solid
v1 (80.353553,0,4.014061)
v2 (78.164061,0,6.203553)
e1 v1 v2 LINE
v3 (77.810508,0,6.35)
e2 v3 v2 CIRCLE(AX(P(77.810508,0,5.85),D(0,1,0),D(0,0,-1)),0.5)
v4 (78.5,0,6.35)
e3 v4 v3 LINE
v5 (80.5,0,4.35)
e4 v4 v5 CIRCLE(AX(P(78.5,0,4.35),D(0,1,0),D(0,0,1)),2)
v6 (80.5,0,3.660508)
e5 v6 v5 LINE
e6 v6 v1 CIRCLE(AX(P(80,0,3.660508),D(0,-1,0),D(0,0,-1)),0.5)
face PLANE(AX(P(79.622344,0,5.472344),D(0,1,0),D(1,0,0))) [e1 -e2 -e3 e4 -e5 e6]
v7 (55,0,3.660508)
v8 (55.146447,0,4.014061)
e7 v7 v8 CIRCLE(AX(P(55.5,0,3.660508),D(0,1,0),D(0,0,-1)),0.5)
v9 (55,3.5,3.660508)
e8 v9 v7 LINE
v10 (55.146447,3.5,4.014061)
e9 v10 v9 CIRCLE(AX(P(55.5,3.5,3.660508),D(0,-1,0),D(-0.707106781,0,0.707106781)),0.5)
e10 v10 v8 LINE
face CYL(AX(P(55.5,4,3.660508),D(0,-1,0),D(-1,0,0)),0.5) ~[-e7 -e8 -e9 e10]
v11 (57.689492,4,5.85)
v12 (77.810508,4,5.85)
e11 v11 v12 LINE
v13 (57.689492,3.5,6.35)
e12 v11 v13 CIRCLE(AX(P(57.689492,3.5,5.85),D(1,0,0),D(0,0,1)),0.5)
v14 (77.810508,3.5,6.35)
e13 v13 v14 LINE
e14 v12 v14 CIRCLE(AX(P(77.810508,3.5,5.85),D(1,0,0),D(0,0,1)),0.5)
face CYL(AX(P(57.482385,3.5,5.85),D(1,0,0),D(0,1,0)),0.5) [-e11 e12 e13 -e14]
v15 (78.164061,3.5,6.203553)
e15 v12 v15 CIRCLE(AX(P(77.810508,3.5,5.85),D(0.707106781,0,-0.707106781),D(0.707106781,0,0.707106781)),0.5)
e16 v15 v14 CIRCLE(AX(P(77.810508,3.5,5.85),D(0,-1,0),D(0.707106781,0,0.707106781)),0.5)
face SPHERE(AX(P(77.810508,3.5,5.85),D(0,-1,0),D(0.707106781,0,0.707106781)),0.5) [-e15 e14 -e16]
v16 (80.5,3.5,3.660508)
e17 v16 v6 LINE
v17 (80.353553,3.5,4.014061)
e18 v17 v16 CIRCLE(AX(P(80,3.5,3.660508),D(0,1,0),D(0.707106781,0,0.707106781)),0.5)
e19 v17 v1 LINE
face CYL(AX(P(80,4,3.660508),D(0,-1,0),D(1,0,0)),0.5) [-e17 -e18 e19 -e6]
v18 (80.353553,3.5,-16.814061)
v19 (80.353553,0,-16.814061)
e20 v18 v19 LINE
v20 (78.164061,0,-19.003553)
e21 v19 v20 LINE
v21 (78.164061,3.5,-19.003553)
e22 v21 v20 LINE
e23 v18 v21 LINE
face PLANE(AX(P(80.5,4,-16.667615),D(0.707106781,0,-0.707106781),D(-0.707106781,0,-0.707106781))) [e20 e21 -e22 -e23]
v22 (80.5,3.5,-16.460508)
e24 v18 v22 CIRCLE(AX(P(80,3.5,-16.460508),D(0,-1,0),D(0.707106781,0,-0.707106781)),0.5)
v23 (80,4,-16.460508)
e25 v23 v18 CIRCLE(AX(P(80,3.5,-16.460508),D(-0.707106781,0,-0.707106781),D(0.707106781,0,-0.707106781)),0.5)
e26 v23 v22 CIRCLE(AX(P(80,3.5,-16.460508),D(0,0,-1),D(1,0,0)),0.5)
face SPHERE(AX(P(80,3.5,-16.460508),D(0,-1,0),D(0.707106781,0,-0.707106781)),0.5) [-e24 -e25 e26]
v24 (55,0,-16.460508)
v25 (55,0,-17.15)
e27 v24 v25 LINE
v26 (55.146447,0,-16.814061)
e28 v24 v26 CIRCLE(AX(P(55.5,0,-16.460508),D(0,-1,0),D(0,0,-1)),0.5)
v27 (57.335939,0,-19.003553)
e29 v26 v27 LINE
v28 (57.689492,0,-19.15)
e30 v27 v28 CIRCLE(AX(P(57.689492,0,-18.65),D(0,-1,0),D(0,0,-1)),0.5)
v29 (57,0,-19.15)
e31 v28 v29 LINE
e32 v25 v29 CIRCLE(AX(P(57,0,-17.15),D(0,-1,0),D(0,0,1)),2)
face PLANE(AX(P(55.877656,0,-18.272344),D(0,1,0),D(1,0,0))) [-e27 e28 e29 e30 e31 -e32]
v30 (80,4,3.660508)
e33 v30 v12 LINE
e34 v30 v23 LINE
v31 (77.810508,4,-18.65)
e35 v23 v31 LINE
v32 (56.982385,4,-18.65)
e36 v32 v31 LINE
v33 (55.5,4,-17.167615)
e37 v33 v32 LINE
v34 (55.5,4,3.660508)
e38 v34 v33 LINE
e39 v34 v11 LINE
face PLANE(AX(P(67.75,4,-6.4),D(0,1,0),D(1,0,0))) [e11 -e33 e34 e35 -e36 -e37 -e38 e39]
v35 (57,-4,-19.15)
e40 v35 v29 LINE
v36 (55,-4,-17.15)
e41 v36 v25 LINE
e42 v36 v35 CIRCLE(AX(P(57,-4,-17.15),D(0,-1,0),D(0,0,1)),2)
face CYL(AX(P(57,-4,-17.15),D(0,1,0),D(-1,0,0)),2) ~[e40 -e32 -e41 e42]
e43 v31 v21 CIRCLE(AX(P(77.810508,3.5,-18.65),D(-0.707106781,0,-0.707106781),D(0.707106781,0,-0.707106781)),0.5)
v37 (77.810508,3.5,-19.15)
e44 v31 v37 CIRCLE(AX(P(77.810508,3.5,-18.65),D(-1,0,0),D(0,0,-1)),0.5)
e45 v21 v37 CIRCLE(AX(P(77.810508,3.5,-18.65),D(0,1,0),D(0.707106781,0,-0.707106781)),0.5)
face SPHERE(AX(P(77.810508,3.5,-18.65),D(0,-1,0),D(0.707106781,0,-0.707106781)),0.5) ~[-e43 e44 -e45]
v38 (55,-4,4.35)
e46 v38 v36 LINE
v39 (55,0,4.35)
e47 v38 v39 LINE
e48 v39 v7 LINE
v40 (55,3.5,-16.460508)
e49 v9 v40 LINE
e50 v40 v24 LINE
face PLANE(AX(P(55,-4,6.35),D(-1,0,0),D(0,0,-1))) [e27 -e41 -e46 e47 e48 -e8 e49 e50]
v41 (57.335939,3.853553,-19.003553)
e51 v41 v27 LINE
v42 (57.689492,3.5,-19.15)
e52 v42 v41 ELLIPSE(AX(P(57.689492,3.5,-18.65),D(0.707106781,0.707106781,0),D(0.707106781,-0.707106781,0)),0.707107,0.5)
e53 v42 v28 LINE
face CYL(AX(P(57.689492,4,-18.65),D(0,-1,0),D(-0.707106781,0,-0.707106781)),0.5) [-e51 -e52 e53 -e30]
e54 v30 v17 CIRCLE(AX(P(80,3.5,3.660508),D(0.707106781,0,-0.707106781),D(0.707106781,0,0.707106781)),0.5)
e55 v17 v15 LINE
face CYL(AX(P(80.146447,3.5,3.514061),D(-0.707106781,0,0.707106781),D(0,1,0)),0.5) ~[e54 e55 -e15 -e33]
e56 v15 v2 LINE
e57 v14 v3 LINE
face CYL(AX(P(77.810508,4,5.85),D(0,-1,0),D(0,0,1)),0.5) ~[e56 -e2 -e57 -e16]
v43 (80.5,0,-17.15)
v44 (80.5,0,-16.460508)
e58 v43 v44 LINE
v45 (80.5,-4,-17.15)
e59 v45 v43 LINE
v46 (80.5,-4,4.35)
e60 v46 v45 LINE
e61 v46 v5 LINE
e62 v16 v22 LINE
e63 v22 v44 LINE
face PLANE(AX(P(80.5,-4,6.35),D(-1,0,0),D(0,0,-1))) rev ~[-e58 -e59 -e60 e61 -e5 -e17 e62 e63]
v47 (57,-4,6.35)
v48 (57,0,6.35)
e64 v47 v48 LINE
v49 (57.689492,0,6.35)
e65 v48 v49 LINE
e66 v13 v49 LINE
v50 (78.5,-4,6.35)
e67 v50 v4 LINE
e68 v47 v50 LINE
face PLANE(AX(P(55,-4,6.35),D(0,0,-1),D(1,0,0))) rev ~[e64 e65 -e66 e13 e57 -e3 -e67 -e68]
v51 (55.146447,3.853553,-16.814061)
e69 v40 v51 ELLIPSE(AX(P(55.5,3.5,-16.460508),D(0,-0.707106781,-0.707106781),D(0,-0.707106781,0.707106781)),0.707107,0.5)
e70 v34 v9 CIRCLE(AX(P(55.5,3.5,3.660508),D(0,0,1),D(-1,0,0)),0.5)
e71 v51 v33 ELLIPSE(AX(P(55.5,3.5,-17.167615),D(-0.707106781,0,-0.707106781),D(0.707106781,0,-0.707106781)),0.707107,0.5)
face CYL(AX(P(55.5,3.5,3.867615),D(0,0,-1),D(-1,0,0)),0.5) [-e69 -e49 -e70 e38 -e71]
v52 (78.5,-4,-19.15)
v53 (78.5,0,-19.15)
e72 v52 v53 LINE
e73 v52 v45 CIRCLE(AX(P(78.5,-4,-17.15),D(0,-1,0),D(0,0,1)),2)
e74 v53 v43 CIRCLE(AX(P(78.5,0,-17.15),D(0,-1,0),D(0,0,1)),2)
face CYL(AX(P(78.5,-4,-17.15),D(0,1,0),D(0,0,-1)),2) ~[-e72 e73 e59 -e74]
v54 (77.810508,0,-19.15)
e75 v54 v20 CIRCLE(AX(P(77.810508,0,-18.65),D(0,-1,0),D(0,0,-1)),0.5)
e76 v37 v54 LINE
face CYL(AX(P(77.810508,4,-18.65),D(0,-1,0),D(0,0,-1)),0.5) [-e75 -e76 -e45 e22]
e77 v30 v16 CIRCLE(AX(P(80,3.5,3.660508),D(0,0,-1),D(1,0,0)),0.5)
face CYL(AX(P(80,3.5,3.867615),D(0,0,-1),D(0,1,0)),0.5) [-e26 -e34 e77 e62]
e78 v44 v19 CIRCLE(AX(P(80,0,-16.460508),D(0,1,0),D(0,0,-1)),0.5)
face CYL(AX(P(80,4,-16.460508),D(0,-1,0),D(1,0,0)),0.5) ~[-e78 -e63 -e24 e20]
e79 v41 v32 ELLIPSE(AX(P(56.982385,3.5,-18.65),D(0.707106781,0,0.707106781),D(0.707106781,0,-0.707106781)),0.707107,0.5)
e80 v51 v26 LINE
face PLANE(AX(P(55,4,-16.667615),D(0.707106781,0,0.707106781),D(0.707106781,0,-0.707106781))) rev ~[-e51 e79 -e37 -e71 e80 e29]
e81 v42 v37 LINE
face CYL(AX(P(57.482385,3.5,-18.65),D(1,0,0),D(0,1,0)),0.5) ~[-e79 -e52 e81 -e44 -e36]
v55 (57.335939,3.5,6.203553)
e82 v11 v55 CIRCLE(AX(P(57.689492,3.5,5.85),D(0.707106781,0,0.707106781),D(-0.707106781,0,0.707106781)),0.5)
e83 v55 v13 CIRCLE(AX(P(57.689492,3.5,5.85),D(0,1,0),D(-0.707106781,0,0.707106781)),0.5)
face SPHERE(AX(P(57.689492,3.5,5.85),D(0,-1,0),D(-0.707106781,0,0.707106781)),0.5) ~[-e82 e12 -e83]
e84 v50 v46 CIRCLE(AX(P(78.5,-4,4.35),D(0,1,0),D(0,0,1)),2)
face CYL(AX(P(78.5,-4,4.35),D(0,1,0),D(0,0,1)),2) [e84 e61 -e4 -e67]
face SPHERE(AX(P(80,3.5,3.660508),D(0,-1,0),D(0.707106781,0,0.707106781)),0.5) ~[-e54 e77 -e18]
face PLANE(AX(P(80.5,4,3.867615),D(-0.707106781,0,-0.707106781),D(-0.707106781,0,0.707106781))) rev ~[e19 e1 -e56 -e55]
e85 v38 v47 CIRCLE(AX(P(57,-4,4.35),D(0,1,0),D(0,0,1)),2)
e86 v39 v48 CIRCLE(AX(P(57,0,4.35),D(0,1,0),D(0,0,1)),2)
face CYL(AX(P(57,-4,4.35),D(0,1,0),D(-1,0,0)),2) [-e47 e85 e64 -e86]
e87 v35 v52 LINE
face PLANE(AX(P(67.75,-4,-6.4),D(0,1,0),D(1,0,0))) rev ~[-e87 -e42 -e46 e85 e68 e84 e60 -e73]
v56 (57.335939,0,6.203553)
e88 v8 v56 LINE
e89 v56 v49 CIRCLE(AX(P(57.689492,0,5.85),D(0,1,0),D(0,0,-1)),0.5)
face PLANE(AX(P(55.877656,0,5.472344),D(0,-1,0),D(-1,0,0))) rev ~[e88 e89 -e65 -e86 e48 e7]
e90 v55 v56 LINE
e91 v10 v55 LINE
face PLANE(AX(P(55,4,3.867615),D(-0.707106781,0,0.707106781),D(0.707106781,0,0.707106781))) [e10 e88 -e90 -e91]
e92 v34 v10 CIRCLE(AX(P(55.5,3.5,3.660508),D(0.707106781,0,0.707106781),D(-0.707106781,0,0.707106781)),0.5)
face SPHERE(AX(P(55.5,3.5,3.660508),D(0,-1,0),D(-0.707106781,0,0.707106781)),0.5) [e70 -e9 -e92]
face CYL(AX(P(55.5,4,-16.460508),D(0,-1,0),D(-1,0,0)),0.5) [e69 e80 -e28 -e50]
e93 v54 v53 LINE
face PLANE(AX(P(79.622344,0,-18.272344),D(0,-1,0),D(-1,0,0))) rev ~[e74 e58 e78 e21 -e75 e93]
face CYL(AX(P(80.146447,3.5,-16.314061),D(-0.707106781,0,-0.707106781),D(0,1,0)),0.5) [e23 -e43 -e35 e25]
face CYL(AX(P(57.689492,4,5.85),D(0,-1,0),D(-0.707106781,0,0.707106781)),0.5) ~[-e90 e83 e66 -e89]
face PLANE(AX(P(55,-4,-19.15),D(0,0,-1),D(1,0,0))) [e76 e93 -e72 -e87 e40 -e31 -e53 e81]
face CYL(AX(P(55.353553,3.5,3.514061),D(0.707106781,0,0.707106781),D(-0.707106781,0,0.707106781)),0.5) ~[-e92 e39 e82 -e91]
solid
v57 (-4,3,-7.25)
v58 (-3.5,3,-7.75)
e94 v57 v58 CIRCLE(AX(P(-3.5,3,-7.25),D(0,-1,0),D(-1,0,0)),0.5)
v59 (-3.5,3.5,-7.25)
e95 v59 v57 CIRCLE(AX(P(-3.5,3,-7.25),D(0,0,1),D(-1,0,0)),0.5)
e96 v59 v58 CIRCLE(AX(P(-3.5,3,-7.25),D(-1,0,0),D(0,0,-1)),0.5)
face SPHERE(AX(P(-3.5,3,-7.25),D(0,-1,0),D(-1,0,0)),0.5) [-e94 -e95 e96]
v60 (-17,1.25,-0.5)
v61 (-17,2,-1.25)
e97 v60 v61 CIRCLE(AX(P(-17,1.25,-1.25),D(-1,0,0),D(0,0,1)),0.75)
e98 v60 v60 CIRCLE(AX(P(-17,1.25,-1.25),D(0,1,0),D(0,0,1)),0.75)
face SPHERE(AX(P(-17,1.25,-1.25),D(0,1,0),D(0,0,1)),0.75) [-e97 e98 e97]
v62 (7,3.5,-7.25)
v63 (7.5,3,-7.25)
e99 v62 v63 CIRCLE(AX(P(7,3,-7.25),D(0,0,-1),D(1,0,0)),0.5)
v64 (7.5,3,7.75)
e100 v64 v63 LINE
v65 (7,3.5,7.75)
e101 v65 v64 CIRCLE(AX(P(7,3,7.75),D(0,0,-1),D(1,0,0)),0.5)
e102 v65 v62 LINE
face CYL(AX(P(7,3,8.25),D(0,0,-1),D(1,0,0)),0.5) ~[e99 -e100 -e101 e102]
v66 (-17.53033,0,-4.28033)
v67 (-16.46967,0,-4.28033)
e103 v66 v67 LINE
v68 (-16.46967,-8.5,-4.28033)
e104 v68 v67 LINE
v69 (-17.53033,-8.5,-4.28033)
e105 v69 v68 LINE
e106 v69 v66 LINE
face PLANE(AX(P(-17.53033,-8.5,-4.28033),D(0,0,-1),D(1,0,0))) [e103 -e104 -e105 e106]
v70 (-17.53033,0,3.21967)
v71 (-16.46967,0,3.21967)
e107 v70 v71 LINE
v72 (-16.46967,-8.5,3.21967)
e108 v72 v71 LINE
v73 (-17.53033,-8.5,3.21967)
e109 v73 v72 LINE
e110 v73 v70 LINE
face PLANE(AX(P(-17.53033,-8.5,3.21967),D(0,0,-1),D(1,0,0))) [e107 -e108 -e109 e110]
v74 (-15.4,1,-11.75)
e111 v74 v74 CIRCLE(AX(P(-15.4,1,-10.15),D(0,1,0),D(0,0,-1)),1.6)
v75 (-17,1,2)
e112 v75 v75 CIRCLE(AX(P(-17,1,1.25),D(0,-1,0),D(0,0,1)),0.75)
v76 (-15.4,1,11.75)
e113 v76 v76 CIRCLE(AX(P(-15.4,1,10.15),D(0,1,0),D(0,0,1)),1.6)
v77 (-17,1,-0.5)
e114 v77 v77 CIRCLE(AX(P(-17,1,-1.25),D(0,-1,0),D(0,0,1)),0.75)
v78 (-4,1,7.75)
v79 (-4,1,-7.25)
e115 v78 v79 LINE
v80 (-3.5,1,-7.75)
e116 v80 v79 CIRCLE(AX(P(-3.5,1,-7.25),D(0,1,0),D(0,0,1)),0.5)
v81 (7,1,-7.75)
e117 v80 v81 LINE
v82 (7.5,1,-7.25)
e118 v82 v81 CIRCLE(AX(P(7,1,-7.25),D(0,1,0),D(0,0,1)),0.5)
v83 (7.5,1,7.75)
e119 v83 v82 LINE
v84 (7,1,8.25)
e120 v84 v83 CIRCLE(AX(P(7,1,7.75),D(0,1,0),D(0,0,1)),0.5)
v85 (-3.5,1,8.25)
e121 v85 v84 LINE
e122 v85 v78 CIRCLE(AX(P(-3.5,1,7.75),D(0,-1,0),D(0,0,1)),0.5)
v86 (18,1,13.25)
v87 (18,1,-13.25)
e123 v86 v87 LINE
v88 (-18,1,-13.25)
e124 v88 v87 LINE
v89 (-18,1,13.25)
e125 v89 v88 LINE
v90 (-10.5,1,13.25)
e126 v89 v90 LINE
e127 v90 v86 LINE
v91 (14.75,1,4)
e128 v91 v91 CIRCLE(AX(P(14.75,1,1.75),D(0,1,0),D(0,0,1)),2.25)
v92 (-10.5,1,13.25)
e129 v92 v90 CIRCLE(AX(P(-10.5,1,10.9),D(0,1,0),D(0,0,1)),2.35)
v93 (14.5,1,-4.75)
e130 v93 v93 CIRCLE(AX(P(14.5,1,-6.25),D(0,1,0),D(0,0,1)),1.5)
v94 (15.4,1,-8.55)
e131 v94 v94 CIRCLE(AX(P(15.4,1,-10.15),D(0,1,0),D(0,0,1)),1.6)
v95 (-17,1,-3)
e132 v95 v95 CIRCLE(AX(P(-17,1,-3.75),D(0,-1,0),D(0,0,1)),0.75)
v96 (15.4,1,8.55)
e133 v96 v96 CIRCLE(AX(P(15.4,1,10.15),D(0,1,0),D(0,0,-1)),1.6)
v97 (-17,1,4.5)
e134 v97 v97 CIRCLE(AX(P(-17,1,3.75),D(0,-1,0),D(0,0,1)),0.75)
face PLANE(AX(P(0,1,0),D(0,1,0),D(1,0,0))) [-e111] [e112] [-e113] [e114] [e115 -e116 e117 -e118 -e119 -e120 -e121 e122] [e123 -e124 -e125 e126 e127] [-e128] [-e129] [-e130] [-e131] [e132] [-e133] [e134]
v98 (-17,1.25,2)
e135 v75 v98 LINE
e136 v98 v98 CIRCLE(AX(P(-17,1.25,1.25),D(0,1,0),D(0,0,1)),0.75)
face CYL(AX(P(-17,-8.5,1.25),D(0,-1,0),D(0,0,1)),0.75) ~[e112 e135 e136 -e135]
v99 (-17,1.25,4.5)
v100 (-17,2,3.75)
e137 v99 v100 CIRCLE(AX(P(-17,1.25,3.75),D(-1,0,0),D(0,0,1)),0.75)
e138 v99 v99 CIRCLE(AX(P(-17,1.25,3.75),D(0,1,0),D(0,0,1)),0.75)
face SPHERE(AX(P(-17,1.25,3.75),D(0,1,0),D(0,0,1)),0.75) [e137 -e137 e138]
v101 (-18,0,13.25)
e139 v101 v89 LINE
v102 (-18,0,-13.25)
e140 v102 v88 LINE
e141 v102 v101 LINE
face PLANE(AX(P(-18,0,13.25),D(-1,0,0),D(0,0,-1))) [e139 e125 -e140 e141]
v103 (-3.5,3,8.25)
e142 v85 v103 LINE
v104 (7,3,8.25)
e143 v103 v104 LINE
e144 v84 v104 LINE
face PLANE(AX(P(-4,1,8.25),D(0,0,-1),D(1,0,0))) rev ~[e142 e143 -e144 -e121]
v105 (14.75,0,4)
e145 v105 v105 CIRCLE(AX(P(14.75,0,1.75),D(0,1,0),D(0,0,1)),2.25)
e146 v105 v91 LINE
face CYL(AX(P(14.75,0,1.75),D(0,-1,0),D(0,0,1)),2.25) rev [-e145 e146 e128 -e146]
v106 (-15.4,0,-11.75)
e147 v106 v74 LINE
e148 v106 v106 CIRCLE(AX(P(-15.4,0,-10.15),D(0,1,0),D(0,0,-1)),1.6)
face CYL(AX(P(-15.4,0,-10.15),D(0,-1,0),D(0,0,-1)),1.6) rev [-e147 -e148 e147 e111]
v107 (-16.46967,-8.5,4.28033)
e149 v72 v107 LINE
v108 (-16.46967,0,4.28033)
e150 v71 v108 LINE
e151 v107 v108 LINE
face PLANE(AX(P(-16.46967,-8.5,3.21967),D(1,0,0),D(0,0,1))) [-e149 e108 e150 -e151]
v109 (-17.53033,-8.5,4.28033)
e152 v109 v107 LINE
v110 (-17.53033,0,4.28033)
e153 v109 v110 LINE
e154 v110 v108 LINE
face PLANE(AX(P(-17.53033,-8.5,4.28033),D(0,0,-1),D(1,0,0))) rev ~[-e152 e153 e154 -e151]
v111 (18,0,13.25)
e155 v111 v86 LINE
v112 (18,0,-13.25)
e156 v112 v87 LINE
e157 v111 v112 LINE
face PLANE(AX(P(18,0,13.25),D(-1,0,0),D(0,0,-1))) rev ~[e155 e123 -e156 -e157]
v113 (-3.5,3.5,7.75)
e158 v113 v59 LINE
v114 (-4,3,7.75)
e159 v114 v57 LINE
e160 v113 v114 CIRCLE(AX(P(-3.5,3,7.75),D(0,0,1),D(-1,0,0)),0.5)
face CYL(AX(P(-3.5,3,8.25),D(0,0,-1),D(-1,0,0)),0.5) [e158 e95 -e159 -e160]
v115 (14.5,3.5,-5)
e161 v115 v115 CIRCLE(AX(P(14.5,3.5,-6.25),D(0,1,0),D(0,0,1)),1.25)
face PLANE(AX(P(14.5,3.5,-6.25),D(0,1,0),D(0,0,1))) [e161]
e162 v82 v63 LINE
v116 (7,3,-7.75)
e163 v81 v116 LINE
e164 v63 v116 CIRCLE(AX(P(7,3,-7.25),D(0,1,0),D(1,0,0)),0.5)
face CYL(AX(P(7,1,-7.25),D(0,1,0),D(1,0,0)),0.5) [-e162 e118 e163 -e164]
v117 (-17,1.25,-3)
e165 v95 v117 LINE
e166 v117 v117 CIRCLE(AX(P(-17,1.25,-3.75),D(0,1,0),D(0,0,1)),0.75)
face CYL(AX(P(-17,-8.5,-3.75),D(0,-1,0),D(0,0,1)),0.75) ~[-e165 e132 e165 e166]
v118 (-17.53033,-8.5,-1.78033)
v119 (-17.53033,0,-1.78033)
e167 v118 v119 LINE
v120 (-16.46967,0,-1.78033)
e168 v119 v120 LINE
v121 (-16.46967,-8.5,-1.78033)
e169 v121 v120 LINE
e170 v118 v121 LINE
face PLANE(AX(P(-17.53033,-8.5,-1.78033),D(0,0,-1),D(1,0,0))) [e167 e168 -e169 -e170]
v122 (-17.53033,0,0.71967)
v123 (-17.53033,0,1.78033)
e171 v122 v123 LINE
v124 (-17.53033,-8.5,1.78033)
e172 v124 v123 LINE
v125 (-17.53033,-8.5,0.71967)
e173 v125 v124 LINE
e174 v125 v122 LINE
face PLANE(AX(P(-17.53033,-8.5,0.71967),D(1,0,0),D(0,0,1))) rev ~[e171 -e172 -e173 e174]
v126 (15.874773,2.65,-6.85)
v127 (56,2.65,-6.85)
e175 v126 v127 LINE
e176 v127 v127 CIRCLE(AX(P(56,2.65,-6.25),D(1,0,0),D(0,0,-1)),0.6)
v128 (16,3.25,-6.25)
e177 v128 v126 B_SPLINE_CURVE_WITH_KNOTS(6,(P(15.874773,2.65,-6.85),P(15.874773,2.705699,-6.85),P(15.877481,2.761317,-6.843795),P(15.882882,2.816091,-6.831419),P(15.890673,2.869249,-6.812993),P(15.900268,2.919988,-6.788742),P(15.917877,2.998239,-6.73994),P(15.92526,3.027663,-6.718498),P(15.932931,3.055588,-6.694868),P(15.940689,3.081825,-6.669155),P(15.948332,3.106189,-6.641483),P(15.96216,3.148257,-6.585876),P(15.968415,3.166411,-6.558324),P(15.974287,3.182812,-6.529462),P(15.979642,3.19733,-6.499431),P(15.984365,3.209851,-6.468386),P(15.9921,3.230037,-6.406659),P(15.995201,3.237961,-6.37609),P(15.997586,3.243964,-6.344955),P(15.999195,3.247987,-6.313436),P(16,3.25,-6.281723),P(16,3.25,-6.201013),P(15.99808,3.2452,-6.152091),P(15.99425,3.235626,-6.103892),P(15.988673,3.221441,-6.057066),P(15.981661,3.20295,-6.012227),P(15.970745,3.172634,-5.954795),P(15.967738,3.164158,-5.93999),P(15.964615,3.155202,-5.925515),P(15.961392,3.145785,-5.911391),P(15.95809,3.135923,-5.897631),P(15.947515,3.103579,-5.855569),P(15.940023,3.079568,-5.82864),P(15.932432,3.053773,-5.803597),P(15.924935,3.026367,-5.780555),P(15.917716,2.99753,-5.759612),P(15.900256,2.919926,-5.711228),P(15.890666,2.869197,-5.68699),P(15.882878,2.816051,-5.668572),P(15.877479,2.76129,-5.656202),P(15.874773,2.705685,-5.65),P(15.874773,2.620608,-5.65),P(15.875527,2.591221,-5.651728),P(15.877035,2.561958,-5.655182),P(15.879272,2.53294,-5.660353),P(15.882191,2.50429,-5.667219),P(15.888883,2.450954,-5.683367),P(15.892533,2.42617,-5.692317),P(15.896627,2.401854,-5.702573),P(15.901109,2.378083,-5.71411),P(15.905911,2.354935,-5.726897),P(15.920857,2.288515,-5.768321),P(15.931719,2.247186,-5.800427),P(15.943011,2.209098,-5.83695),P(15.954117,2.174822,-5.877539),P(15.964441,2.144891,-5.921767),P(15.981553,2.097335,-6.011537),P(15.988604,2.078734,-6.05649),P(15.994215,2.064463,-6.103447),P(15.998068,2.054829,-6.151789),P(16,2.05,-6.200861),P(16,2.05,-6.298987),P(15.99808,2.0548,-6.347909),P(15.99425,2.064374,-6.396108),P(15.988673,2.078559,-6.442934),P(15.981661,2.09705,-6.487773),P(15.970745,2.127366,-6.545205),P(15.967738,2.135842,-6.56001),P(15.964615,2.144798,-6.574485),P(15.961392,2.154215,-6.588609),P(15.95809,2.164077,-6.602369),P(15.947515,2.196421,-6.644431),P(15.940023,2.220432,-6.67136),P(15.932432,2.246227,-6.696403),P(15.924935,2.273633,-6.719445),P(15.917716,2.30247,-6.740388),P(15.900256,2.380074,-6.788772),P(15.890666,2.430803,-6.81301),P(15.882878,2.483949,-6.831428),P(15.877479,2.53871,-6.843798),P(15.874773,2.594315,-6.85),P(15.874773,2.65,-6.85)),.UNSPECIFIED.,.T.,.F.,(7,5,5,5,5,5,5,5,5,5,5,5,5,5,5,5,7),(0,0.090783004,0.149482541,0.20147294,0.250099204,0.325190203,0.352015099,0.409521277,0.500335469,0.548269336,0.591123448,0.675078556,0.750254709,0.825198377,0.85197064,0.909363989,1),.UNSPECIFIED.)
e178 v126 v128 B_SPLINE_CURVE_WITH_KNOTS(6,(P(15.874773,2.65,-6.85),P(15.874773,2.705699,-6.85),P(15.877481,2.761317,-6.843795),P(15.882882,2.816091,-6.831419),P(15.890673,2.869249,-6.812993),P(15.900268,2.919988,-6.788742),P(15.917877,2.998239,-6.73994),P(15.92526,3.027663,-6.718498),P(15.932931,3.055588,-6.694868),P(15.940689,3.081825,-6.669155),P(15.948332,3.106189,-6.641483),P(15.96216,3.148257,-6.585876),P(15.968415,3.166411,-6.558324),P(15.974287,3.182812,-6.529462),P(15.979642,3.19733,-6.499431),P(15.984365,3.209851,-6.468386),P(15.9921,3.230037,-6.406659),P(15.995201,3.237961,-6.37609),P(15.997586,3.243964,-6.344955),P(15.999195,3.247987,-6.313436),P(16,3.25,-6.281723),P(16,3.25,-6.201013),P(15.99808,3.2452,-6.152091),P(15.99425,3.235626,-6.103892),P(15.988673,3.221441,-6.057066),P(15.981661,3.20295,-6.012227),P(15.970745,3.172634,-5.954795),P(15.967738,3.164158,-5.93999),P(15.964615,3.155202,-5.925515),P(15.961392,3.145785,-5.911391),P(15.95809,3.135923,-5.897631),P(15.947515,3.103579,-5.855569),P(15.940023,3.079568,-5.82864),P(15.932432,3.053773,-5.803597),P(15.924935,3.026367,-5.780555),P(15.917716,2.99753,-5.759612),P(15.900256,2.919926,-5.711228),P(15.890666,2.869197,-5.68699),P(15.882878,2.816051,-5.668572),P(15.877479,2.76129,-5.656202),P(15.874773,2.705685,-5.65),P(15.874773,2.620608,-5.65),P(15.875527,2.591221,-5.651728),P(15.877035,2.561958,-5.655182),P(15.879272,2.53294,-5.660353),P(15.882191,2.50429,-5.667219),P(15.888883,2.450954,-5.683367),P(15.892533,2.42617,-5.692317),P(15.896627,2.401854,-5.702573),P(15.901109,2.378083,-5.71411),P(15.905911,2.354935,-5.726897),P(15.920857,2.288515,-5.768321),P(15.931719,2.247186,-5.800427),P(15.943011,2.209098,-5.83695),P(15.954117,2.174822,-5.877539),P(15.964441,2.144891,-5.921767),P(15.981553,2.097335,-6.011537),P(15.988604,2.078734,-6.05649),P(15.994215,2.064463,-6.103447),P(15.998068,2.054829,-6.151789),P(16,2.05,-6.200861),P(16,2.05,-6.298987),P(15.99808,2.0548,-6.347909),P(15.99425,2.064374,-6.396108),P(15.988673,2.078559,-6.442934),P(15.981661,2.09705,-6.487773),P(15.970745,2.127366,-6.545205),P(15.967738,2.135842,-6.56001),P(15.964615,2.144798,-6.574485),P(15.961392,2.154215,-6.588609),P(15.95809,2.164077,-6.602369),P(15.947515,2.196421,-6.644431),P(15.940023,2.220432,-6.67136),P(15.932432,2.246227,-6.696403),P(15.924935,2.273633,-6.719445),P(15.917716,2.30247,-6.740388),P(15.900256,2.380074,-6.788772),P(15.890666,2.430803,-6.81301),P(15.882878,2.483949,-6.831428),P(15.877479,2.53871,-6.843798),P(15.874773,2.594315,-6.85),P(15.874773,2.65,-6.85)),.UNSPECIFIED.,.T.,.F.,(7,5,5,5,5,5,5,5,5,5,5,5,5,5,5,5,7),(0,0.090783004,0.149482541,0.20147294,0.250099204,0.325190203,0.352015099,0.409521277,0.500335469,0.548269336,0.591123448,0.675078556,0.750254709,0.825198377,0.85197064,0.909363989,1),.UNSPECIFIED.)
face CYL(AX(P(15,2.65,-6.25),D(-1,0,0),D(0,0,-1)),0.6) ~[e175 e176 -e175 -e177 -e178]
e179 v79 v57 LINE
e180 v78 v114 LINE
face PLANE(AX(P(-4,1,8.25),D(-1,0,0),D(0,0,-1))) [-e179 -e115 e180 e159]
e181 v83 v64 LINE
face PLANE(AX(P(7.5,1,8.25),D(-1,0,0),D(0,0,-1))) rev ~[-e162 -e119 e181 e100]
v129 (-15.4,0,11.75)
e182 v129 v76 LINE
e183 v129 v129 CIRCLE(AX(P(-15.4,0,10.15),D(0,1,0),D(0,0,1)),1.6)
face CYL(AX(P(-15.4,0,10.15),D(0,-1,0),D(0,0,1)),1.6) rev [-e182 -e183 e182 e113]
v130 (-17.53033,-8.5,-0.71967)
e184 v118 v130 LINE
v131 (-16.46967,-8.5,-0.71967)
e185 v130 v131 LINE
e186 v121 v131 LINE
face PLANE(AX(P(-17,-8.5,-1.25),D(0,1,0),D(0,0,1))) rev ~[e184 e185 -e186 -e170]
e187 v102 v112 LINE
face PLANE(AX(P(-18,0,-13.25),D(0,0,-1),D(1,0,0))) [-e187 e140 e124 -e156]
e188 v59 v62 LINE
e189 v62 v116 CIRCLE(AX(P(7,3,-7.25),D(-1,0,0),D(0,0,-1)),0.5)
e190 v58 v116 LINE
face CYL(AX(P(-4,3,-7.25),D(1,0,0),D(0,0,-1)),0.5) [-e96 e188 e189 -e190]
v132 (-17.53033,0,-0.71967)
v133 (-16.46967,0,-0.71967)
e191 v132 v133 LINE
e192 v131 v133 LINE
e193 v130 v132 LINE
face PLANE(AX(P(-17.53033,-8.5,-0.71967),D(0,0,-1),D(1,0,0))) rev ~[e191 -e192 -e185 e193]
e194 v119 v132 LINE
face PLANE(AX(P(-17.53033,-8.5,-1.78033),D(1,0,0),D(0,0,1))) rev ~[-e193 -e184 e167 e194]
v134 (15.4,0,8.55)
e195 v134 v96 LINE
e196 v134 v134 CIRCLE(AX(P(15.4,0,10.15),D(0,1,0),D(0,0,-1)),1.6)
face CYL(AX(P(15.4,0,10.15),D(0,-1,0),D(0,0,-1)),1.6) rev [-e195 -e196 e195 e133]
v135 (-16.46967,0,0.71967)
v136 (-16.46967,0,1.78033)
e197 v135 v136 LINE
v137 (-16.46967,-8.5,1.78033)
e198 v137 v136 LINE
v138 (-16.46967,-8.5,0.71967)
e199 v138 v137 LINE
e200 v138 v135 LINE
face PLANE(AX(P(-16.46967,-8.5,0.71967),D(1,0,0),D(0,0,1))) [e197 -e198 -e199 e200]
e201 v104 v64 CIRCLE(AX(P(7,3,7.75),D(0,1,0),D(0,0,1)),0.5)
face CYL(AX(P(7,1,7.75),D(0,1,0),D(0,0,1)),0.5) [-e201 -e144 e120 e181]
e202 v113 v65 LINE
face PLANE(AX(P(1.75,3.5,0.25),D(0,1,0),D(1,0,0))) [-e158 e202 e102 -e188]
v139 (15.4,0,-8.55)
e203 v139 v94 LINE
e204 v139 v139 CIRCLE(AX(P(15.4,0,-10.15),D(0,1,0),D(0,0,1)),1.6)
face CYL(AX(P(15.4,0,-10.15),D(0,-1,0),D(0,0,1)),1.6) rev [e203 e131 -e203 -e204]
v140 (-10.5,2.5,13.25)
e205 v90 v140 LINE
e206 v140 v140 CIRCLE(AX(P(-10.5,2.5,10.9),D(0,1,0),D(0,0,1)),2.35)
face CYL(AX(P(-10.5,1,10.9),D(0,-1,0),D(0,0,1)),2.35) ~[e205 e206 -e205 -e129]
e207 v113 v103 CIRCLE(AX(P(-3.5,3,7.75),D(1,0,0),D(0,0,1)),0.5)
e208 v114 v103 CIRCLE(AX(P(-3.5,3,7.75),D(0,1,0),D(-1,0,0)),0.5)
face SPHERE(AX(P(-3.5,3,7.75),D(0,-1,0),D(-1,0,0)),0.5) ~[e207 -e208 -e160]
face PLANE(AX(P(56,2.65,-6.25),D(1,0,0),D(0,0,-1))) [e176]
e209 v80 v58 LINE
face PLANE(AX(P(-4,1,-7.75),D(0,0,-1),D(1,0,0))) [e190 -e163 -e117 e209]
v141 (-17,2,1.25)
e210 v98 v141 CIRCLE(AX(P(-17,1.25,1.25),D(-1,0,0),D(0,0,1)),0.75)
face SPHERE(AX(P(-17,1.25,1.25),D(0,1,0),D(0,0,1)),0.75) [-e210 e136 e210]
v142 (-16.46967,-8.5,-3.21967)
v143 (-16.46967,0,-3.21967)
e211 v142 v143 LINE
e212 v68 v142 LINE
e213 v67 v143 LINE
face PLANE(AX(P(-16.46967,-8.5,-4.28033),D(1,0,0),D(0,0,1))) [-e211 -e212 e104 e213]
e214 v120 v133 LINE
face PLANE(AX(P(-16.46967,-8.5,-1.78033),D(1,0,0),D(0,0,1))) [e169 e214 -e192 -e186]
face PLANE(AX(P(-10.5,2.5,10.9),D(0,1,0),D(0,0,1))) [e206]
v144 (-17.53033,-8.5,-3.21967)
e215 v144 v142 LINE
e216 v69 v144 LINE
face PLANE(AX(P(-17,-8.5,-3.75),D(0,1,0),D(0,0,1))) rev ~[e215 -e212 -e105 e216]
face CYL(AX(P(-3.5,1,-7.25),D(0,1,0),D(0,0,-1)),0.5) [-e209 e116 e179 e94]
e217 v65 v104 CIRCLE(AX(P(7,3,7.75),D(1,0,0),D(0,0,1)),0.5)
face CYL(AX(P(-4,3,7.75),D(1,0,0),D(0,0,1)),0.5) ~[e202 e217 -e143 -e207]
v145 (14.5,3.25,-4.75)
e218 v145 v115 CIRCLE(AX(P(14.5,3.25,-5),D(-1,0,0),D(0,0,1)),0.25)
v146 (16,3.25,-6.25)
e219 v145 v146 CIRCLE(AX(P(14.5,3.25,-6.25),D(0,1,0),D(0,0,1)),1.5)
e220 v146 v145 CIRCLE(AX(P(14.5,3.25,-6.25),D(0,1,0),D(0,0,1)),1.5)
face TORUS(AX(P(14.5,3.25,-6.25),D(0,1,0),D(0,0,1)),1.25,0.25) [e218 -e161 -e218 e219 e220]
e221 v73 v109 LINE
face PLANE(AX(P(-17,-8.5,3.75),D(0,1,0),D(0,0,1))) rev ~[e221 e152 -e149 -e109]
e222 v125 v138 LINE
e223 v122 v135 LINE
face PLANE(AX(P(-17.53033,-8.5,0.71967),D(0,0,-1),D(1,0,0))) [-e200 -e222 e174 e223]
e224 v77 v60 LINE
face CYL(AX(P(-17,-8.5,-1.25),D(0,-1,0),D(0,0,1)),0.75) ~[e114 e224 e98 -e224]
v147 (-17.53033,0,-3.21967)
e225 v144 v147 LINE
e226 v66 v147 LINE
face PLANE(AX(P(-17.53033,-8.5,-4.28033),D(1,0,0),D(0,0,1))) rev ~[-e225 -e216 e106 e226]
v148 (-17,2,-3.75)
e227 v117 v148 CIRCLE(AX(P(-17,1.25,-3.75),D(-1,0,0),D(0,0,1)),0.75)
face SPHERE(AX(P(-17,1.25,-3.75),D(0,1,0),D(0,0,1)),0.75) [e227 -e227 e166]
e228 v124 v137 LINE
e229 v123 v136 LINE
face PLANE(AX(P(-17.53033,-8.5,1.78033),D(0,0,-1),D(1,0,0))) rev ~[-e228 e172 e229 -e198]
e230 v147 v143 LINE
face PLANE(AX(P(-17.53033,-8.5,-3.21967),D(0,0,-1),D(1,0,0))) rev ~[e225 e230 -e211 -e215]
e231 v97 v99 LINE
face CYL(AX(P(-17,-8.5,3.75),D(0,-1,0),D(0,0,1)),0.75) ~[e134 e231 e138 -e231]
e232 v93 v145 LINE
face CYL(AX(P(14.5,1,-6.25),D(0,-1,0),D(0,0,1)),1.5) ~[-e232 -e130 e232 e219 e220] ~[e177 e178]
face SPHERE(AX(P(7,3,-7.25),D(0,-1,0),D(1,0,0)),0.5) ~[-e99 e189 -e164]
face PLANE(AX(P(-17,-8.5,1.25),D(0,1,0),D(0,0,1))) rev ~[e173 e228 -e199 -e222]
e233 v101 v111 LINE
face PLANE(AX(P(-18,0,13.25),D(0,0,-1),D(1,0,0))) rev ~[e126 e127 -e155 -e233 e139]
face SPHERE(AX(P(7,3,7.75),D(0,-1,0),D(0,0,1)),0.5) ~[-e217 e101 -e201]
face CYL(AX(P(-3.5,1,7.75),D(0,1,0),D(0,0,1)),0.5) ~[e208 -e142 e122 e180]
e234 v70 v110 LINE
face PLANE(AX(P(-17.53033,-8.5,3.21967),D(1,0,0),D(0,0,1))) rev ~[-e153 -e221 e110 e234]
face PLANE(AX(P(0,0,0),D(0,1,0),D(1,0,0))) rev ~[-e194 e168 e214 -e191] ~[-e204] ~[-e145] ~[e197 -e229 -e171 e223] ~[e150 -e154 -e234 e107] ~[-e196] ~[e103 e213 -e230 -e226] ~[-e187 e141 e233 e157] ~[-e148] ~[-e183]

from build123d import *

# Parameters (mm, degrees)
CROQUIS1_W                   = 36
CROQUIS1_H                   = 26.5
CROQUIS1_R                   = 1.6
CROQUIS1_R_2                 = 2.25
SALIENTE_EXTRUIR1_DEPTH      = 1
CROQUIS2_W                   = 11.5
CROQUIS2_H                   = 16
SALIENTE_EXTRUIR2_DEPTH      = 2.5
REDONDEO1_R                  = 0.5
CROQUIS3_R                   = 2.35
SALIENTE_EXTRUIR3_DEPTH      = 1.5
SALIENTE_EXTRUIR4_DEPTH      = 1
SALIENTE_EXTRUIR4_DEPTH_BACK = 9.5
CROQUIS4_R                   = 0.75
REDONDEO2_R                  = 0.75
CROQUIS5_R                   = 1
CROQUIS5_W                   = 1.060660172
CROQUIS5_H                   = 1.060660172
CORTAR_EXTRUIR1_DEPTH        = 8.5
CROQUIS7_R                   = 1.5
SALIENTE_EXTRUIR5_DEPTH      = 2.5
REDONDEO3_R                  = 0.25
SALIENTE_EXTRUIR6_DEPTH      = 40
SALIENTE_EXTRUIR6_DEPTH_BACK = 1
CROQUIS10_R                  = 0.6
SALIENTE_EXTRUIR7_DEPTH      = 4
SALIENTE_EXTRUIR7_DEPTH_BACK = 4
CROQUIS11_W                  = 25.5
CROQUIS11_H                  = 25.5
CORTAR_EXTRUIR3_DEPTH        = 4
REDONDEO4_R                  = 2
REDONDEO5_R                  = 0.5


with BuildPart() as part:
    # Croquis1 → Saliente-Extruir1 (new body)
    with BuildSketch(Plane(origin=(0, 0, 0), x_dir=(1, 0, 0), z_dir=(0, 1, 0))):
        Rectangle(CROQUIS1_W, CROQUIS1_H)
        with Locations(Location((15.4, 10.15, 0), (0, 0, 270))):
            Circle(CROQUIS1_R, mode=Mode.SUBTRACT)
        with Locations(Location((15.4, -10.15, 0), (0, 0, 90))):
            Circle(CROQUIS1_R, mode=Mode.SUBTRACT)
        with Locations(Location((-15.4, -10.15, 0), (0, 0, 270))):
            Circle(CROQUIS1_R, mode=Mode.SUBTRACT)
        with Locations(Location((-15.4, 10.15, 0), (0, 0, 90))):
            Circle(CROQUIS1_R, mode=Mode.SUBTRACT)
        with Locations(Location((14.75, -1.75, 0), (0, 0, 270))):
            Circle(CROQUIS1_R_2, mode=Mode.SUBTRACT)
    extrude(amount=SALIENTE_EXTRUIR1_DEPTH)

    # Croquis2 → Saliente-Extruir2 (add)
    with BuildSketch(Plane(origin=(0, 1, 0), x_dir=(1, 0, 0), z_dir=(0, 1, 0))):
        with Locations((1.75, -0.25)):
            Rectangle(CROQUIS2_W, CROQUIS2_H)
    extrude(amount=SALIENTE_EXTRUIR2_DEPTH)

    # Redondeo1
    redondeo1_edges = [part.edges().sort_by_distance(p)[0] for p in [
        (-4, 2.25, -7.75),
        (-4, 2.25, 8.25),
        (7.5, 2.25, 8.25),
        (7.5, 2.25, -7.75),
        (-4, 3.5, 0.25),
        (1.75, 3.5, 8.25),
        (7.5, 3.5, 0.25),
        (1.75, 3.5, -7.75),
    ]]
    fillet(redondeo1_edges, radius=REDONDEO1_R)

    # Croquis3 → Saliente-Extruir3 (add)
    with BuildSketch(Plane(origin=(0, 1, 0), x_dir=(1, 0, 0), z_dir=(0, 1, 0))):
        with Locations(Location((-10.5, -10.9, 0), (0, 0, 270))):
            Circle(CROQUIS3_R)
    extrude(amount=SALIENTE_EXTRUIR3_DEPTH)

    # Croquis4 → Saliente-Extruir4 (add, two sides: drawn at the far end of the back side and taken through both)
    with BuildSketch(Plane(origin=(0, 1, 0), x_dir=(1, 0, 0), z_dir=(0, 1, 0)).offset(-SALIENTE_EXTRUIR4_DEPTH_BACK)):
        with Locations(Location((-17, -1.25, 0), (0, 0, 270))):
            Circle(CROQUIS4_R)
        with Locations(Location((-17, -3.75, 0), (0, 0, 270))):
            Circle(CROQUIS4_R)
        with Locations(Location((-17, 1.25, 0), (0, 0, 270))):
            Circle(CROQUIS4_R)
        with Locations(Location((-17, 3.75, 0), (0, 0, 270))):
            Circle(CROQUIS4_R)
    extrude(amount=SALIENTE_EXTRUIR4_DEPTH + SALIENTE_EXTRUIR4_DEPTH_BACK)

    # Redondeo2
    redondeo2_edges = [part.edges().sort_by_distance(p)[0] for p in [
        (-17, 2, 3),
        (-17, 2, 0.5),
        (-17, 2, -4.5),
        (-17, 2, -2),
    ]]
    fillet(redondeo2_edges, radius=REDONDEO2_R)

    # Croquis5 → Cortar-Extruir1 (cut)
    # profile 1 of 4: a face of its own
    with BuildSketch(Plane.XZ.offset(8.5)):
        with Locations((-17, 3.75)):
            Circle(CROQUIS5_R)
        with Locations((-17, 3.75)):
            Rectangle(CROQUIS5_W, CROQUIS5_H, mode=Mode.SUBTRACT)
    # profile 2 of 4: a face of its own
    with BuildSketch(Plane.XZ.offset(8.5)):
        with Locations((-17, 1.25)):
            Circle(CROQUIS5_R)
        with Locations((-17, 1.25)):
            Rectangle(CROQUIS5_W, CROQUIS5_H, mode=Mode.SUBTRACT)
    # profile 3 of 4: a face of its own
    with BuildSketch(Plane.XZ.offset(8.5)):
        with Locations((-17, -1.25)):
            Circle(CROQUIS5_R)
        with Locations((-17, -1.25)):
            Rectangle(CROQUIS5_W, CROQUIS5_H, mode=Mode.SUBTRACT)
    # profile 4 of 4: a face of its own
    with BuildSketch(Plane.XZ.offset(8.5)):
        with Locations((-17, -3.75)):
            Circle(CROQUIS5_R)
        with Locations((-17, -3.75)):
            Rectangle(CROQUIS5_W, CROQUIS5_H, mode=Mode.SUBTRACT)
    extrude(amount=-CORTAR_EXTRUIR1_DEPTH, mode=Mode.SUBTRACT)

    # Croquis7 → Saliente-Extruir5 (add)
    with BuildSketch(Plane(origin=(0, 1, 0), x_dir=(1, 0, 0), z_dir=(0, 1, 0))):
        with Locations(Location((14.5, 6.25, 0), (0, 0, 270))):
            Circle(CROQUIS7_R)
    extrude(amount=SALIENTE_EXTRUIR5_DEPTH)

    # Redondeo3
    redondeo3_edges = [part.edges().sort_by_distance(p)[0] for p in [
        (14.5, 3.5, -7.75),
    ]]
    fillet(redondeo3_edges, radius=REDONDEO3_R)

    # Croquis10 → Saliente-Extruir6 (add, two sides: drawn at the far end of the back side and taken through both)
    with BuildSketch(Plane(origin=(16, 0, 0), x_dir=(0, 0, -1), z_dir=(1, 0, 0)).offset(-SALIENTE_EXTRUIR6_DEPTH_BACK)):
        with Locations((6.25, 2.65)):
            Circle(CROQUIS10_R)
    extrude(amount=SALIENTE_EXTRUIR6_DEPTH + SALIENTE_EXTRUIR6_DEPTH_BACK)


with BuildPart() as body_2:
    # Croquis11 → Saliente-Extruir7 (new, two sides: drawn at the far end of the back side and taken through both)
    with BuildSketch(Plane(origin=(0, 0, 0), x_dir=(1, 0, 0), z_dir=(0, 1, 0)).offset(-SALIENTE_EXTRUIR7_DEPTH_BACK)):
        with Locations((67.75, 6.4)):
            Rectangle(CROQUIS11_W, CROQUIS11_H)
    extrude(amount=SALIENTE_EXTRUIR7_DEPTH + SALIENTE_EXTRUIR7_DEPTH_BACK)

    # Croquis13 → Cortar-Extruir3 (cut)
    with BuildSketch(Plane(origin=(0, 4, 0), x_dir=(1, 0, 0), z_dir=(0, 1, 0))):
        Polygon((55, 16.667614595), (57.482385405, 19.15), (55, 19.15), align=None)
        Polygon((80.5, 19.15), (80.5, 16.667614595), (78.017614595, 19.15), align=None)
        Polygon((80.5, -3.867614595), (78.017614595, -6.35), (80.5, -6.35), align=None)
        Polygon((55, -6.35), (55, -3.867614595), (57.482385405, -6.35), align=None)
    extrude(amount=-CORTAR_EXTRUIR3_DEPTH, mode=Mode.SUBTRACT)

    # Redondeo4
    redondeo4_edges = [body_2.edges().sort_by_distance(p)[0] for p in [
        (55, -2, -19.15),
        (80.5, -2, -19.15),
        (80.5, -2, 6.35),
        (55, -2, 6.35),
    ]]
    fillet(redondeo4_edges, radius=REDONDEO4_R)

    # Redondeo5
    redondeo5_edges = [body_2.edges().sort_by_distance(p)[0] for p in [
        (55, 4, -6.4),
        (67.75, 4, 6.35),
        (80.5, 4, -6.4),
        (67.75, 4, -19.15),
        (55, 2, -16.667614595),
        (57.482385405, 2, -19.15),
        (78.017614595, 2, -19.15),
        (80.5, 2, -16.667614595),
        (79.258807297, 4, -17.908807297),
        (80.5, 2, 3.867614595),
        (78.017614595, 2, 6.35),
        (79.258807297, 4, 5.108807297),
        (57.482385405, 2, 6.35),
        (55, 2, 3.867614595),
        (56.241192703, 4, 5.108807297),
    ]]
    fillet(redondeo5_edges, radius=REDONDEO5_R)


solid = Compound([part.part, body_2.part])
